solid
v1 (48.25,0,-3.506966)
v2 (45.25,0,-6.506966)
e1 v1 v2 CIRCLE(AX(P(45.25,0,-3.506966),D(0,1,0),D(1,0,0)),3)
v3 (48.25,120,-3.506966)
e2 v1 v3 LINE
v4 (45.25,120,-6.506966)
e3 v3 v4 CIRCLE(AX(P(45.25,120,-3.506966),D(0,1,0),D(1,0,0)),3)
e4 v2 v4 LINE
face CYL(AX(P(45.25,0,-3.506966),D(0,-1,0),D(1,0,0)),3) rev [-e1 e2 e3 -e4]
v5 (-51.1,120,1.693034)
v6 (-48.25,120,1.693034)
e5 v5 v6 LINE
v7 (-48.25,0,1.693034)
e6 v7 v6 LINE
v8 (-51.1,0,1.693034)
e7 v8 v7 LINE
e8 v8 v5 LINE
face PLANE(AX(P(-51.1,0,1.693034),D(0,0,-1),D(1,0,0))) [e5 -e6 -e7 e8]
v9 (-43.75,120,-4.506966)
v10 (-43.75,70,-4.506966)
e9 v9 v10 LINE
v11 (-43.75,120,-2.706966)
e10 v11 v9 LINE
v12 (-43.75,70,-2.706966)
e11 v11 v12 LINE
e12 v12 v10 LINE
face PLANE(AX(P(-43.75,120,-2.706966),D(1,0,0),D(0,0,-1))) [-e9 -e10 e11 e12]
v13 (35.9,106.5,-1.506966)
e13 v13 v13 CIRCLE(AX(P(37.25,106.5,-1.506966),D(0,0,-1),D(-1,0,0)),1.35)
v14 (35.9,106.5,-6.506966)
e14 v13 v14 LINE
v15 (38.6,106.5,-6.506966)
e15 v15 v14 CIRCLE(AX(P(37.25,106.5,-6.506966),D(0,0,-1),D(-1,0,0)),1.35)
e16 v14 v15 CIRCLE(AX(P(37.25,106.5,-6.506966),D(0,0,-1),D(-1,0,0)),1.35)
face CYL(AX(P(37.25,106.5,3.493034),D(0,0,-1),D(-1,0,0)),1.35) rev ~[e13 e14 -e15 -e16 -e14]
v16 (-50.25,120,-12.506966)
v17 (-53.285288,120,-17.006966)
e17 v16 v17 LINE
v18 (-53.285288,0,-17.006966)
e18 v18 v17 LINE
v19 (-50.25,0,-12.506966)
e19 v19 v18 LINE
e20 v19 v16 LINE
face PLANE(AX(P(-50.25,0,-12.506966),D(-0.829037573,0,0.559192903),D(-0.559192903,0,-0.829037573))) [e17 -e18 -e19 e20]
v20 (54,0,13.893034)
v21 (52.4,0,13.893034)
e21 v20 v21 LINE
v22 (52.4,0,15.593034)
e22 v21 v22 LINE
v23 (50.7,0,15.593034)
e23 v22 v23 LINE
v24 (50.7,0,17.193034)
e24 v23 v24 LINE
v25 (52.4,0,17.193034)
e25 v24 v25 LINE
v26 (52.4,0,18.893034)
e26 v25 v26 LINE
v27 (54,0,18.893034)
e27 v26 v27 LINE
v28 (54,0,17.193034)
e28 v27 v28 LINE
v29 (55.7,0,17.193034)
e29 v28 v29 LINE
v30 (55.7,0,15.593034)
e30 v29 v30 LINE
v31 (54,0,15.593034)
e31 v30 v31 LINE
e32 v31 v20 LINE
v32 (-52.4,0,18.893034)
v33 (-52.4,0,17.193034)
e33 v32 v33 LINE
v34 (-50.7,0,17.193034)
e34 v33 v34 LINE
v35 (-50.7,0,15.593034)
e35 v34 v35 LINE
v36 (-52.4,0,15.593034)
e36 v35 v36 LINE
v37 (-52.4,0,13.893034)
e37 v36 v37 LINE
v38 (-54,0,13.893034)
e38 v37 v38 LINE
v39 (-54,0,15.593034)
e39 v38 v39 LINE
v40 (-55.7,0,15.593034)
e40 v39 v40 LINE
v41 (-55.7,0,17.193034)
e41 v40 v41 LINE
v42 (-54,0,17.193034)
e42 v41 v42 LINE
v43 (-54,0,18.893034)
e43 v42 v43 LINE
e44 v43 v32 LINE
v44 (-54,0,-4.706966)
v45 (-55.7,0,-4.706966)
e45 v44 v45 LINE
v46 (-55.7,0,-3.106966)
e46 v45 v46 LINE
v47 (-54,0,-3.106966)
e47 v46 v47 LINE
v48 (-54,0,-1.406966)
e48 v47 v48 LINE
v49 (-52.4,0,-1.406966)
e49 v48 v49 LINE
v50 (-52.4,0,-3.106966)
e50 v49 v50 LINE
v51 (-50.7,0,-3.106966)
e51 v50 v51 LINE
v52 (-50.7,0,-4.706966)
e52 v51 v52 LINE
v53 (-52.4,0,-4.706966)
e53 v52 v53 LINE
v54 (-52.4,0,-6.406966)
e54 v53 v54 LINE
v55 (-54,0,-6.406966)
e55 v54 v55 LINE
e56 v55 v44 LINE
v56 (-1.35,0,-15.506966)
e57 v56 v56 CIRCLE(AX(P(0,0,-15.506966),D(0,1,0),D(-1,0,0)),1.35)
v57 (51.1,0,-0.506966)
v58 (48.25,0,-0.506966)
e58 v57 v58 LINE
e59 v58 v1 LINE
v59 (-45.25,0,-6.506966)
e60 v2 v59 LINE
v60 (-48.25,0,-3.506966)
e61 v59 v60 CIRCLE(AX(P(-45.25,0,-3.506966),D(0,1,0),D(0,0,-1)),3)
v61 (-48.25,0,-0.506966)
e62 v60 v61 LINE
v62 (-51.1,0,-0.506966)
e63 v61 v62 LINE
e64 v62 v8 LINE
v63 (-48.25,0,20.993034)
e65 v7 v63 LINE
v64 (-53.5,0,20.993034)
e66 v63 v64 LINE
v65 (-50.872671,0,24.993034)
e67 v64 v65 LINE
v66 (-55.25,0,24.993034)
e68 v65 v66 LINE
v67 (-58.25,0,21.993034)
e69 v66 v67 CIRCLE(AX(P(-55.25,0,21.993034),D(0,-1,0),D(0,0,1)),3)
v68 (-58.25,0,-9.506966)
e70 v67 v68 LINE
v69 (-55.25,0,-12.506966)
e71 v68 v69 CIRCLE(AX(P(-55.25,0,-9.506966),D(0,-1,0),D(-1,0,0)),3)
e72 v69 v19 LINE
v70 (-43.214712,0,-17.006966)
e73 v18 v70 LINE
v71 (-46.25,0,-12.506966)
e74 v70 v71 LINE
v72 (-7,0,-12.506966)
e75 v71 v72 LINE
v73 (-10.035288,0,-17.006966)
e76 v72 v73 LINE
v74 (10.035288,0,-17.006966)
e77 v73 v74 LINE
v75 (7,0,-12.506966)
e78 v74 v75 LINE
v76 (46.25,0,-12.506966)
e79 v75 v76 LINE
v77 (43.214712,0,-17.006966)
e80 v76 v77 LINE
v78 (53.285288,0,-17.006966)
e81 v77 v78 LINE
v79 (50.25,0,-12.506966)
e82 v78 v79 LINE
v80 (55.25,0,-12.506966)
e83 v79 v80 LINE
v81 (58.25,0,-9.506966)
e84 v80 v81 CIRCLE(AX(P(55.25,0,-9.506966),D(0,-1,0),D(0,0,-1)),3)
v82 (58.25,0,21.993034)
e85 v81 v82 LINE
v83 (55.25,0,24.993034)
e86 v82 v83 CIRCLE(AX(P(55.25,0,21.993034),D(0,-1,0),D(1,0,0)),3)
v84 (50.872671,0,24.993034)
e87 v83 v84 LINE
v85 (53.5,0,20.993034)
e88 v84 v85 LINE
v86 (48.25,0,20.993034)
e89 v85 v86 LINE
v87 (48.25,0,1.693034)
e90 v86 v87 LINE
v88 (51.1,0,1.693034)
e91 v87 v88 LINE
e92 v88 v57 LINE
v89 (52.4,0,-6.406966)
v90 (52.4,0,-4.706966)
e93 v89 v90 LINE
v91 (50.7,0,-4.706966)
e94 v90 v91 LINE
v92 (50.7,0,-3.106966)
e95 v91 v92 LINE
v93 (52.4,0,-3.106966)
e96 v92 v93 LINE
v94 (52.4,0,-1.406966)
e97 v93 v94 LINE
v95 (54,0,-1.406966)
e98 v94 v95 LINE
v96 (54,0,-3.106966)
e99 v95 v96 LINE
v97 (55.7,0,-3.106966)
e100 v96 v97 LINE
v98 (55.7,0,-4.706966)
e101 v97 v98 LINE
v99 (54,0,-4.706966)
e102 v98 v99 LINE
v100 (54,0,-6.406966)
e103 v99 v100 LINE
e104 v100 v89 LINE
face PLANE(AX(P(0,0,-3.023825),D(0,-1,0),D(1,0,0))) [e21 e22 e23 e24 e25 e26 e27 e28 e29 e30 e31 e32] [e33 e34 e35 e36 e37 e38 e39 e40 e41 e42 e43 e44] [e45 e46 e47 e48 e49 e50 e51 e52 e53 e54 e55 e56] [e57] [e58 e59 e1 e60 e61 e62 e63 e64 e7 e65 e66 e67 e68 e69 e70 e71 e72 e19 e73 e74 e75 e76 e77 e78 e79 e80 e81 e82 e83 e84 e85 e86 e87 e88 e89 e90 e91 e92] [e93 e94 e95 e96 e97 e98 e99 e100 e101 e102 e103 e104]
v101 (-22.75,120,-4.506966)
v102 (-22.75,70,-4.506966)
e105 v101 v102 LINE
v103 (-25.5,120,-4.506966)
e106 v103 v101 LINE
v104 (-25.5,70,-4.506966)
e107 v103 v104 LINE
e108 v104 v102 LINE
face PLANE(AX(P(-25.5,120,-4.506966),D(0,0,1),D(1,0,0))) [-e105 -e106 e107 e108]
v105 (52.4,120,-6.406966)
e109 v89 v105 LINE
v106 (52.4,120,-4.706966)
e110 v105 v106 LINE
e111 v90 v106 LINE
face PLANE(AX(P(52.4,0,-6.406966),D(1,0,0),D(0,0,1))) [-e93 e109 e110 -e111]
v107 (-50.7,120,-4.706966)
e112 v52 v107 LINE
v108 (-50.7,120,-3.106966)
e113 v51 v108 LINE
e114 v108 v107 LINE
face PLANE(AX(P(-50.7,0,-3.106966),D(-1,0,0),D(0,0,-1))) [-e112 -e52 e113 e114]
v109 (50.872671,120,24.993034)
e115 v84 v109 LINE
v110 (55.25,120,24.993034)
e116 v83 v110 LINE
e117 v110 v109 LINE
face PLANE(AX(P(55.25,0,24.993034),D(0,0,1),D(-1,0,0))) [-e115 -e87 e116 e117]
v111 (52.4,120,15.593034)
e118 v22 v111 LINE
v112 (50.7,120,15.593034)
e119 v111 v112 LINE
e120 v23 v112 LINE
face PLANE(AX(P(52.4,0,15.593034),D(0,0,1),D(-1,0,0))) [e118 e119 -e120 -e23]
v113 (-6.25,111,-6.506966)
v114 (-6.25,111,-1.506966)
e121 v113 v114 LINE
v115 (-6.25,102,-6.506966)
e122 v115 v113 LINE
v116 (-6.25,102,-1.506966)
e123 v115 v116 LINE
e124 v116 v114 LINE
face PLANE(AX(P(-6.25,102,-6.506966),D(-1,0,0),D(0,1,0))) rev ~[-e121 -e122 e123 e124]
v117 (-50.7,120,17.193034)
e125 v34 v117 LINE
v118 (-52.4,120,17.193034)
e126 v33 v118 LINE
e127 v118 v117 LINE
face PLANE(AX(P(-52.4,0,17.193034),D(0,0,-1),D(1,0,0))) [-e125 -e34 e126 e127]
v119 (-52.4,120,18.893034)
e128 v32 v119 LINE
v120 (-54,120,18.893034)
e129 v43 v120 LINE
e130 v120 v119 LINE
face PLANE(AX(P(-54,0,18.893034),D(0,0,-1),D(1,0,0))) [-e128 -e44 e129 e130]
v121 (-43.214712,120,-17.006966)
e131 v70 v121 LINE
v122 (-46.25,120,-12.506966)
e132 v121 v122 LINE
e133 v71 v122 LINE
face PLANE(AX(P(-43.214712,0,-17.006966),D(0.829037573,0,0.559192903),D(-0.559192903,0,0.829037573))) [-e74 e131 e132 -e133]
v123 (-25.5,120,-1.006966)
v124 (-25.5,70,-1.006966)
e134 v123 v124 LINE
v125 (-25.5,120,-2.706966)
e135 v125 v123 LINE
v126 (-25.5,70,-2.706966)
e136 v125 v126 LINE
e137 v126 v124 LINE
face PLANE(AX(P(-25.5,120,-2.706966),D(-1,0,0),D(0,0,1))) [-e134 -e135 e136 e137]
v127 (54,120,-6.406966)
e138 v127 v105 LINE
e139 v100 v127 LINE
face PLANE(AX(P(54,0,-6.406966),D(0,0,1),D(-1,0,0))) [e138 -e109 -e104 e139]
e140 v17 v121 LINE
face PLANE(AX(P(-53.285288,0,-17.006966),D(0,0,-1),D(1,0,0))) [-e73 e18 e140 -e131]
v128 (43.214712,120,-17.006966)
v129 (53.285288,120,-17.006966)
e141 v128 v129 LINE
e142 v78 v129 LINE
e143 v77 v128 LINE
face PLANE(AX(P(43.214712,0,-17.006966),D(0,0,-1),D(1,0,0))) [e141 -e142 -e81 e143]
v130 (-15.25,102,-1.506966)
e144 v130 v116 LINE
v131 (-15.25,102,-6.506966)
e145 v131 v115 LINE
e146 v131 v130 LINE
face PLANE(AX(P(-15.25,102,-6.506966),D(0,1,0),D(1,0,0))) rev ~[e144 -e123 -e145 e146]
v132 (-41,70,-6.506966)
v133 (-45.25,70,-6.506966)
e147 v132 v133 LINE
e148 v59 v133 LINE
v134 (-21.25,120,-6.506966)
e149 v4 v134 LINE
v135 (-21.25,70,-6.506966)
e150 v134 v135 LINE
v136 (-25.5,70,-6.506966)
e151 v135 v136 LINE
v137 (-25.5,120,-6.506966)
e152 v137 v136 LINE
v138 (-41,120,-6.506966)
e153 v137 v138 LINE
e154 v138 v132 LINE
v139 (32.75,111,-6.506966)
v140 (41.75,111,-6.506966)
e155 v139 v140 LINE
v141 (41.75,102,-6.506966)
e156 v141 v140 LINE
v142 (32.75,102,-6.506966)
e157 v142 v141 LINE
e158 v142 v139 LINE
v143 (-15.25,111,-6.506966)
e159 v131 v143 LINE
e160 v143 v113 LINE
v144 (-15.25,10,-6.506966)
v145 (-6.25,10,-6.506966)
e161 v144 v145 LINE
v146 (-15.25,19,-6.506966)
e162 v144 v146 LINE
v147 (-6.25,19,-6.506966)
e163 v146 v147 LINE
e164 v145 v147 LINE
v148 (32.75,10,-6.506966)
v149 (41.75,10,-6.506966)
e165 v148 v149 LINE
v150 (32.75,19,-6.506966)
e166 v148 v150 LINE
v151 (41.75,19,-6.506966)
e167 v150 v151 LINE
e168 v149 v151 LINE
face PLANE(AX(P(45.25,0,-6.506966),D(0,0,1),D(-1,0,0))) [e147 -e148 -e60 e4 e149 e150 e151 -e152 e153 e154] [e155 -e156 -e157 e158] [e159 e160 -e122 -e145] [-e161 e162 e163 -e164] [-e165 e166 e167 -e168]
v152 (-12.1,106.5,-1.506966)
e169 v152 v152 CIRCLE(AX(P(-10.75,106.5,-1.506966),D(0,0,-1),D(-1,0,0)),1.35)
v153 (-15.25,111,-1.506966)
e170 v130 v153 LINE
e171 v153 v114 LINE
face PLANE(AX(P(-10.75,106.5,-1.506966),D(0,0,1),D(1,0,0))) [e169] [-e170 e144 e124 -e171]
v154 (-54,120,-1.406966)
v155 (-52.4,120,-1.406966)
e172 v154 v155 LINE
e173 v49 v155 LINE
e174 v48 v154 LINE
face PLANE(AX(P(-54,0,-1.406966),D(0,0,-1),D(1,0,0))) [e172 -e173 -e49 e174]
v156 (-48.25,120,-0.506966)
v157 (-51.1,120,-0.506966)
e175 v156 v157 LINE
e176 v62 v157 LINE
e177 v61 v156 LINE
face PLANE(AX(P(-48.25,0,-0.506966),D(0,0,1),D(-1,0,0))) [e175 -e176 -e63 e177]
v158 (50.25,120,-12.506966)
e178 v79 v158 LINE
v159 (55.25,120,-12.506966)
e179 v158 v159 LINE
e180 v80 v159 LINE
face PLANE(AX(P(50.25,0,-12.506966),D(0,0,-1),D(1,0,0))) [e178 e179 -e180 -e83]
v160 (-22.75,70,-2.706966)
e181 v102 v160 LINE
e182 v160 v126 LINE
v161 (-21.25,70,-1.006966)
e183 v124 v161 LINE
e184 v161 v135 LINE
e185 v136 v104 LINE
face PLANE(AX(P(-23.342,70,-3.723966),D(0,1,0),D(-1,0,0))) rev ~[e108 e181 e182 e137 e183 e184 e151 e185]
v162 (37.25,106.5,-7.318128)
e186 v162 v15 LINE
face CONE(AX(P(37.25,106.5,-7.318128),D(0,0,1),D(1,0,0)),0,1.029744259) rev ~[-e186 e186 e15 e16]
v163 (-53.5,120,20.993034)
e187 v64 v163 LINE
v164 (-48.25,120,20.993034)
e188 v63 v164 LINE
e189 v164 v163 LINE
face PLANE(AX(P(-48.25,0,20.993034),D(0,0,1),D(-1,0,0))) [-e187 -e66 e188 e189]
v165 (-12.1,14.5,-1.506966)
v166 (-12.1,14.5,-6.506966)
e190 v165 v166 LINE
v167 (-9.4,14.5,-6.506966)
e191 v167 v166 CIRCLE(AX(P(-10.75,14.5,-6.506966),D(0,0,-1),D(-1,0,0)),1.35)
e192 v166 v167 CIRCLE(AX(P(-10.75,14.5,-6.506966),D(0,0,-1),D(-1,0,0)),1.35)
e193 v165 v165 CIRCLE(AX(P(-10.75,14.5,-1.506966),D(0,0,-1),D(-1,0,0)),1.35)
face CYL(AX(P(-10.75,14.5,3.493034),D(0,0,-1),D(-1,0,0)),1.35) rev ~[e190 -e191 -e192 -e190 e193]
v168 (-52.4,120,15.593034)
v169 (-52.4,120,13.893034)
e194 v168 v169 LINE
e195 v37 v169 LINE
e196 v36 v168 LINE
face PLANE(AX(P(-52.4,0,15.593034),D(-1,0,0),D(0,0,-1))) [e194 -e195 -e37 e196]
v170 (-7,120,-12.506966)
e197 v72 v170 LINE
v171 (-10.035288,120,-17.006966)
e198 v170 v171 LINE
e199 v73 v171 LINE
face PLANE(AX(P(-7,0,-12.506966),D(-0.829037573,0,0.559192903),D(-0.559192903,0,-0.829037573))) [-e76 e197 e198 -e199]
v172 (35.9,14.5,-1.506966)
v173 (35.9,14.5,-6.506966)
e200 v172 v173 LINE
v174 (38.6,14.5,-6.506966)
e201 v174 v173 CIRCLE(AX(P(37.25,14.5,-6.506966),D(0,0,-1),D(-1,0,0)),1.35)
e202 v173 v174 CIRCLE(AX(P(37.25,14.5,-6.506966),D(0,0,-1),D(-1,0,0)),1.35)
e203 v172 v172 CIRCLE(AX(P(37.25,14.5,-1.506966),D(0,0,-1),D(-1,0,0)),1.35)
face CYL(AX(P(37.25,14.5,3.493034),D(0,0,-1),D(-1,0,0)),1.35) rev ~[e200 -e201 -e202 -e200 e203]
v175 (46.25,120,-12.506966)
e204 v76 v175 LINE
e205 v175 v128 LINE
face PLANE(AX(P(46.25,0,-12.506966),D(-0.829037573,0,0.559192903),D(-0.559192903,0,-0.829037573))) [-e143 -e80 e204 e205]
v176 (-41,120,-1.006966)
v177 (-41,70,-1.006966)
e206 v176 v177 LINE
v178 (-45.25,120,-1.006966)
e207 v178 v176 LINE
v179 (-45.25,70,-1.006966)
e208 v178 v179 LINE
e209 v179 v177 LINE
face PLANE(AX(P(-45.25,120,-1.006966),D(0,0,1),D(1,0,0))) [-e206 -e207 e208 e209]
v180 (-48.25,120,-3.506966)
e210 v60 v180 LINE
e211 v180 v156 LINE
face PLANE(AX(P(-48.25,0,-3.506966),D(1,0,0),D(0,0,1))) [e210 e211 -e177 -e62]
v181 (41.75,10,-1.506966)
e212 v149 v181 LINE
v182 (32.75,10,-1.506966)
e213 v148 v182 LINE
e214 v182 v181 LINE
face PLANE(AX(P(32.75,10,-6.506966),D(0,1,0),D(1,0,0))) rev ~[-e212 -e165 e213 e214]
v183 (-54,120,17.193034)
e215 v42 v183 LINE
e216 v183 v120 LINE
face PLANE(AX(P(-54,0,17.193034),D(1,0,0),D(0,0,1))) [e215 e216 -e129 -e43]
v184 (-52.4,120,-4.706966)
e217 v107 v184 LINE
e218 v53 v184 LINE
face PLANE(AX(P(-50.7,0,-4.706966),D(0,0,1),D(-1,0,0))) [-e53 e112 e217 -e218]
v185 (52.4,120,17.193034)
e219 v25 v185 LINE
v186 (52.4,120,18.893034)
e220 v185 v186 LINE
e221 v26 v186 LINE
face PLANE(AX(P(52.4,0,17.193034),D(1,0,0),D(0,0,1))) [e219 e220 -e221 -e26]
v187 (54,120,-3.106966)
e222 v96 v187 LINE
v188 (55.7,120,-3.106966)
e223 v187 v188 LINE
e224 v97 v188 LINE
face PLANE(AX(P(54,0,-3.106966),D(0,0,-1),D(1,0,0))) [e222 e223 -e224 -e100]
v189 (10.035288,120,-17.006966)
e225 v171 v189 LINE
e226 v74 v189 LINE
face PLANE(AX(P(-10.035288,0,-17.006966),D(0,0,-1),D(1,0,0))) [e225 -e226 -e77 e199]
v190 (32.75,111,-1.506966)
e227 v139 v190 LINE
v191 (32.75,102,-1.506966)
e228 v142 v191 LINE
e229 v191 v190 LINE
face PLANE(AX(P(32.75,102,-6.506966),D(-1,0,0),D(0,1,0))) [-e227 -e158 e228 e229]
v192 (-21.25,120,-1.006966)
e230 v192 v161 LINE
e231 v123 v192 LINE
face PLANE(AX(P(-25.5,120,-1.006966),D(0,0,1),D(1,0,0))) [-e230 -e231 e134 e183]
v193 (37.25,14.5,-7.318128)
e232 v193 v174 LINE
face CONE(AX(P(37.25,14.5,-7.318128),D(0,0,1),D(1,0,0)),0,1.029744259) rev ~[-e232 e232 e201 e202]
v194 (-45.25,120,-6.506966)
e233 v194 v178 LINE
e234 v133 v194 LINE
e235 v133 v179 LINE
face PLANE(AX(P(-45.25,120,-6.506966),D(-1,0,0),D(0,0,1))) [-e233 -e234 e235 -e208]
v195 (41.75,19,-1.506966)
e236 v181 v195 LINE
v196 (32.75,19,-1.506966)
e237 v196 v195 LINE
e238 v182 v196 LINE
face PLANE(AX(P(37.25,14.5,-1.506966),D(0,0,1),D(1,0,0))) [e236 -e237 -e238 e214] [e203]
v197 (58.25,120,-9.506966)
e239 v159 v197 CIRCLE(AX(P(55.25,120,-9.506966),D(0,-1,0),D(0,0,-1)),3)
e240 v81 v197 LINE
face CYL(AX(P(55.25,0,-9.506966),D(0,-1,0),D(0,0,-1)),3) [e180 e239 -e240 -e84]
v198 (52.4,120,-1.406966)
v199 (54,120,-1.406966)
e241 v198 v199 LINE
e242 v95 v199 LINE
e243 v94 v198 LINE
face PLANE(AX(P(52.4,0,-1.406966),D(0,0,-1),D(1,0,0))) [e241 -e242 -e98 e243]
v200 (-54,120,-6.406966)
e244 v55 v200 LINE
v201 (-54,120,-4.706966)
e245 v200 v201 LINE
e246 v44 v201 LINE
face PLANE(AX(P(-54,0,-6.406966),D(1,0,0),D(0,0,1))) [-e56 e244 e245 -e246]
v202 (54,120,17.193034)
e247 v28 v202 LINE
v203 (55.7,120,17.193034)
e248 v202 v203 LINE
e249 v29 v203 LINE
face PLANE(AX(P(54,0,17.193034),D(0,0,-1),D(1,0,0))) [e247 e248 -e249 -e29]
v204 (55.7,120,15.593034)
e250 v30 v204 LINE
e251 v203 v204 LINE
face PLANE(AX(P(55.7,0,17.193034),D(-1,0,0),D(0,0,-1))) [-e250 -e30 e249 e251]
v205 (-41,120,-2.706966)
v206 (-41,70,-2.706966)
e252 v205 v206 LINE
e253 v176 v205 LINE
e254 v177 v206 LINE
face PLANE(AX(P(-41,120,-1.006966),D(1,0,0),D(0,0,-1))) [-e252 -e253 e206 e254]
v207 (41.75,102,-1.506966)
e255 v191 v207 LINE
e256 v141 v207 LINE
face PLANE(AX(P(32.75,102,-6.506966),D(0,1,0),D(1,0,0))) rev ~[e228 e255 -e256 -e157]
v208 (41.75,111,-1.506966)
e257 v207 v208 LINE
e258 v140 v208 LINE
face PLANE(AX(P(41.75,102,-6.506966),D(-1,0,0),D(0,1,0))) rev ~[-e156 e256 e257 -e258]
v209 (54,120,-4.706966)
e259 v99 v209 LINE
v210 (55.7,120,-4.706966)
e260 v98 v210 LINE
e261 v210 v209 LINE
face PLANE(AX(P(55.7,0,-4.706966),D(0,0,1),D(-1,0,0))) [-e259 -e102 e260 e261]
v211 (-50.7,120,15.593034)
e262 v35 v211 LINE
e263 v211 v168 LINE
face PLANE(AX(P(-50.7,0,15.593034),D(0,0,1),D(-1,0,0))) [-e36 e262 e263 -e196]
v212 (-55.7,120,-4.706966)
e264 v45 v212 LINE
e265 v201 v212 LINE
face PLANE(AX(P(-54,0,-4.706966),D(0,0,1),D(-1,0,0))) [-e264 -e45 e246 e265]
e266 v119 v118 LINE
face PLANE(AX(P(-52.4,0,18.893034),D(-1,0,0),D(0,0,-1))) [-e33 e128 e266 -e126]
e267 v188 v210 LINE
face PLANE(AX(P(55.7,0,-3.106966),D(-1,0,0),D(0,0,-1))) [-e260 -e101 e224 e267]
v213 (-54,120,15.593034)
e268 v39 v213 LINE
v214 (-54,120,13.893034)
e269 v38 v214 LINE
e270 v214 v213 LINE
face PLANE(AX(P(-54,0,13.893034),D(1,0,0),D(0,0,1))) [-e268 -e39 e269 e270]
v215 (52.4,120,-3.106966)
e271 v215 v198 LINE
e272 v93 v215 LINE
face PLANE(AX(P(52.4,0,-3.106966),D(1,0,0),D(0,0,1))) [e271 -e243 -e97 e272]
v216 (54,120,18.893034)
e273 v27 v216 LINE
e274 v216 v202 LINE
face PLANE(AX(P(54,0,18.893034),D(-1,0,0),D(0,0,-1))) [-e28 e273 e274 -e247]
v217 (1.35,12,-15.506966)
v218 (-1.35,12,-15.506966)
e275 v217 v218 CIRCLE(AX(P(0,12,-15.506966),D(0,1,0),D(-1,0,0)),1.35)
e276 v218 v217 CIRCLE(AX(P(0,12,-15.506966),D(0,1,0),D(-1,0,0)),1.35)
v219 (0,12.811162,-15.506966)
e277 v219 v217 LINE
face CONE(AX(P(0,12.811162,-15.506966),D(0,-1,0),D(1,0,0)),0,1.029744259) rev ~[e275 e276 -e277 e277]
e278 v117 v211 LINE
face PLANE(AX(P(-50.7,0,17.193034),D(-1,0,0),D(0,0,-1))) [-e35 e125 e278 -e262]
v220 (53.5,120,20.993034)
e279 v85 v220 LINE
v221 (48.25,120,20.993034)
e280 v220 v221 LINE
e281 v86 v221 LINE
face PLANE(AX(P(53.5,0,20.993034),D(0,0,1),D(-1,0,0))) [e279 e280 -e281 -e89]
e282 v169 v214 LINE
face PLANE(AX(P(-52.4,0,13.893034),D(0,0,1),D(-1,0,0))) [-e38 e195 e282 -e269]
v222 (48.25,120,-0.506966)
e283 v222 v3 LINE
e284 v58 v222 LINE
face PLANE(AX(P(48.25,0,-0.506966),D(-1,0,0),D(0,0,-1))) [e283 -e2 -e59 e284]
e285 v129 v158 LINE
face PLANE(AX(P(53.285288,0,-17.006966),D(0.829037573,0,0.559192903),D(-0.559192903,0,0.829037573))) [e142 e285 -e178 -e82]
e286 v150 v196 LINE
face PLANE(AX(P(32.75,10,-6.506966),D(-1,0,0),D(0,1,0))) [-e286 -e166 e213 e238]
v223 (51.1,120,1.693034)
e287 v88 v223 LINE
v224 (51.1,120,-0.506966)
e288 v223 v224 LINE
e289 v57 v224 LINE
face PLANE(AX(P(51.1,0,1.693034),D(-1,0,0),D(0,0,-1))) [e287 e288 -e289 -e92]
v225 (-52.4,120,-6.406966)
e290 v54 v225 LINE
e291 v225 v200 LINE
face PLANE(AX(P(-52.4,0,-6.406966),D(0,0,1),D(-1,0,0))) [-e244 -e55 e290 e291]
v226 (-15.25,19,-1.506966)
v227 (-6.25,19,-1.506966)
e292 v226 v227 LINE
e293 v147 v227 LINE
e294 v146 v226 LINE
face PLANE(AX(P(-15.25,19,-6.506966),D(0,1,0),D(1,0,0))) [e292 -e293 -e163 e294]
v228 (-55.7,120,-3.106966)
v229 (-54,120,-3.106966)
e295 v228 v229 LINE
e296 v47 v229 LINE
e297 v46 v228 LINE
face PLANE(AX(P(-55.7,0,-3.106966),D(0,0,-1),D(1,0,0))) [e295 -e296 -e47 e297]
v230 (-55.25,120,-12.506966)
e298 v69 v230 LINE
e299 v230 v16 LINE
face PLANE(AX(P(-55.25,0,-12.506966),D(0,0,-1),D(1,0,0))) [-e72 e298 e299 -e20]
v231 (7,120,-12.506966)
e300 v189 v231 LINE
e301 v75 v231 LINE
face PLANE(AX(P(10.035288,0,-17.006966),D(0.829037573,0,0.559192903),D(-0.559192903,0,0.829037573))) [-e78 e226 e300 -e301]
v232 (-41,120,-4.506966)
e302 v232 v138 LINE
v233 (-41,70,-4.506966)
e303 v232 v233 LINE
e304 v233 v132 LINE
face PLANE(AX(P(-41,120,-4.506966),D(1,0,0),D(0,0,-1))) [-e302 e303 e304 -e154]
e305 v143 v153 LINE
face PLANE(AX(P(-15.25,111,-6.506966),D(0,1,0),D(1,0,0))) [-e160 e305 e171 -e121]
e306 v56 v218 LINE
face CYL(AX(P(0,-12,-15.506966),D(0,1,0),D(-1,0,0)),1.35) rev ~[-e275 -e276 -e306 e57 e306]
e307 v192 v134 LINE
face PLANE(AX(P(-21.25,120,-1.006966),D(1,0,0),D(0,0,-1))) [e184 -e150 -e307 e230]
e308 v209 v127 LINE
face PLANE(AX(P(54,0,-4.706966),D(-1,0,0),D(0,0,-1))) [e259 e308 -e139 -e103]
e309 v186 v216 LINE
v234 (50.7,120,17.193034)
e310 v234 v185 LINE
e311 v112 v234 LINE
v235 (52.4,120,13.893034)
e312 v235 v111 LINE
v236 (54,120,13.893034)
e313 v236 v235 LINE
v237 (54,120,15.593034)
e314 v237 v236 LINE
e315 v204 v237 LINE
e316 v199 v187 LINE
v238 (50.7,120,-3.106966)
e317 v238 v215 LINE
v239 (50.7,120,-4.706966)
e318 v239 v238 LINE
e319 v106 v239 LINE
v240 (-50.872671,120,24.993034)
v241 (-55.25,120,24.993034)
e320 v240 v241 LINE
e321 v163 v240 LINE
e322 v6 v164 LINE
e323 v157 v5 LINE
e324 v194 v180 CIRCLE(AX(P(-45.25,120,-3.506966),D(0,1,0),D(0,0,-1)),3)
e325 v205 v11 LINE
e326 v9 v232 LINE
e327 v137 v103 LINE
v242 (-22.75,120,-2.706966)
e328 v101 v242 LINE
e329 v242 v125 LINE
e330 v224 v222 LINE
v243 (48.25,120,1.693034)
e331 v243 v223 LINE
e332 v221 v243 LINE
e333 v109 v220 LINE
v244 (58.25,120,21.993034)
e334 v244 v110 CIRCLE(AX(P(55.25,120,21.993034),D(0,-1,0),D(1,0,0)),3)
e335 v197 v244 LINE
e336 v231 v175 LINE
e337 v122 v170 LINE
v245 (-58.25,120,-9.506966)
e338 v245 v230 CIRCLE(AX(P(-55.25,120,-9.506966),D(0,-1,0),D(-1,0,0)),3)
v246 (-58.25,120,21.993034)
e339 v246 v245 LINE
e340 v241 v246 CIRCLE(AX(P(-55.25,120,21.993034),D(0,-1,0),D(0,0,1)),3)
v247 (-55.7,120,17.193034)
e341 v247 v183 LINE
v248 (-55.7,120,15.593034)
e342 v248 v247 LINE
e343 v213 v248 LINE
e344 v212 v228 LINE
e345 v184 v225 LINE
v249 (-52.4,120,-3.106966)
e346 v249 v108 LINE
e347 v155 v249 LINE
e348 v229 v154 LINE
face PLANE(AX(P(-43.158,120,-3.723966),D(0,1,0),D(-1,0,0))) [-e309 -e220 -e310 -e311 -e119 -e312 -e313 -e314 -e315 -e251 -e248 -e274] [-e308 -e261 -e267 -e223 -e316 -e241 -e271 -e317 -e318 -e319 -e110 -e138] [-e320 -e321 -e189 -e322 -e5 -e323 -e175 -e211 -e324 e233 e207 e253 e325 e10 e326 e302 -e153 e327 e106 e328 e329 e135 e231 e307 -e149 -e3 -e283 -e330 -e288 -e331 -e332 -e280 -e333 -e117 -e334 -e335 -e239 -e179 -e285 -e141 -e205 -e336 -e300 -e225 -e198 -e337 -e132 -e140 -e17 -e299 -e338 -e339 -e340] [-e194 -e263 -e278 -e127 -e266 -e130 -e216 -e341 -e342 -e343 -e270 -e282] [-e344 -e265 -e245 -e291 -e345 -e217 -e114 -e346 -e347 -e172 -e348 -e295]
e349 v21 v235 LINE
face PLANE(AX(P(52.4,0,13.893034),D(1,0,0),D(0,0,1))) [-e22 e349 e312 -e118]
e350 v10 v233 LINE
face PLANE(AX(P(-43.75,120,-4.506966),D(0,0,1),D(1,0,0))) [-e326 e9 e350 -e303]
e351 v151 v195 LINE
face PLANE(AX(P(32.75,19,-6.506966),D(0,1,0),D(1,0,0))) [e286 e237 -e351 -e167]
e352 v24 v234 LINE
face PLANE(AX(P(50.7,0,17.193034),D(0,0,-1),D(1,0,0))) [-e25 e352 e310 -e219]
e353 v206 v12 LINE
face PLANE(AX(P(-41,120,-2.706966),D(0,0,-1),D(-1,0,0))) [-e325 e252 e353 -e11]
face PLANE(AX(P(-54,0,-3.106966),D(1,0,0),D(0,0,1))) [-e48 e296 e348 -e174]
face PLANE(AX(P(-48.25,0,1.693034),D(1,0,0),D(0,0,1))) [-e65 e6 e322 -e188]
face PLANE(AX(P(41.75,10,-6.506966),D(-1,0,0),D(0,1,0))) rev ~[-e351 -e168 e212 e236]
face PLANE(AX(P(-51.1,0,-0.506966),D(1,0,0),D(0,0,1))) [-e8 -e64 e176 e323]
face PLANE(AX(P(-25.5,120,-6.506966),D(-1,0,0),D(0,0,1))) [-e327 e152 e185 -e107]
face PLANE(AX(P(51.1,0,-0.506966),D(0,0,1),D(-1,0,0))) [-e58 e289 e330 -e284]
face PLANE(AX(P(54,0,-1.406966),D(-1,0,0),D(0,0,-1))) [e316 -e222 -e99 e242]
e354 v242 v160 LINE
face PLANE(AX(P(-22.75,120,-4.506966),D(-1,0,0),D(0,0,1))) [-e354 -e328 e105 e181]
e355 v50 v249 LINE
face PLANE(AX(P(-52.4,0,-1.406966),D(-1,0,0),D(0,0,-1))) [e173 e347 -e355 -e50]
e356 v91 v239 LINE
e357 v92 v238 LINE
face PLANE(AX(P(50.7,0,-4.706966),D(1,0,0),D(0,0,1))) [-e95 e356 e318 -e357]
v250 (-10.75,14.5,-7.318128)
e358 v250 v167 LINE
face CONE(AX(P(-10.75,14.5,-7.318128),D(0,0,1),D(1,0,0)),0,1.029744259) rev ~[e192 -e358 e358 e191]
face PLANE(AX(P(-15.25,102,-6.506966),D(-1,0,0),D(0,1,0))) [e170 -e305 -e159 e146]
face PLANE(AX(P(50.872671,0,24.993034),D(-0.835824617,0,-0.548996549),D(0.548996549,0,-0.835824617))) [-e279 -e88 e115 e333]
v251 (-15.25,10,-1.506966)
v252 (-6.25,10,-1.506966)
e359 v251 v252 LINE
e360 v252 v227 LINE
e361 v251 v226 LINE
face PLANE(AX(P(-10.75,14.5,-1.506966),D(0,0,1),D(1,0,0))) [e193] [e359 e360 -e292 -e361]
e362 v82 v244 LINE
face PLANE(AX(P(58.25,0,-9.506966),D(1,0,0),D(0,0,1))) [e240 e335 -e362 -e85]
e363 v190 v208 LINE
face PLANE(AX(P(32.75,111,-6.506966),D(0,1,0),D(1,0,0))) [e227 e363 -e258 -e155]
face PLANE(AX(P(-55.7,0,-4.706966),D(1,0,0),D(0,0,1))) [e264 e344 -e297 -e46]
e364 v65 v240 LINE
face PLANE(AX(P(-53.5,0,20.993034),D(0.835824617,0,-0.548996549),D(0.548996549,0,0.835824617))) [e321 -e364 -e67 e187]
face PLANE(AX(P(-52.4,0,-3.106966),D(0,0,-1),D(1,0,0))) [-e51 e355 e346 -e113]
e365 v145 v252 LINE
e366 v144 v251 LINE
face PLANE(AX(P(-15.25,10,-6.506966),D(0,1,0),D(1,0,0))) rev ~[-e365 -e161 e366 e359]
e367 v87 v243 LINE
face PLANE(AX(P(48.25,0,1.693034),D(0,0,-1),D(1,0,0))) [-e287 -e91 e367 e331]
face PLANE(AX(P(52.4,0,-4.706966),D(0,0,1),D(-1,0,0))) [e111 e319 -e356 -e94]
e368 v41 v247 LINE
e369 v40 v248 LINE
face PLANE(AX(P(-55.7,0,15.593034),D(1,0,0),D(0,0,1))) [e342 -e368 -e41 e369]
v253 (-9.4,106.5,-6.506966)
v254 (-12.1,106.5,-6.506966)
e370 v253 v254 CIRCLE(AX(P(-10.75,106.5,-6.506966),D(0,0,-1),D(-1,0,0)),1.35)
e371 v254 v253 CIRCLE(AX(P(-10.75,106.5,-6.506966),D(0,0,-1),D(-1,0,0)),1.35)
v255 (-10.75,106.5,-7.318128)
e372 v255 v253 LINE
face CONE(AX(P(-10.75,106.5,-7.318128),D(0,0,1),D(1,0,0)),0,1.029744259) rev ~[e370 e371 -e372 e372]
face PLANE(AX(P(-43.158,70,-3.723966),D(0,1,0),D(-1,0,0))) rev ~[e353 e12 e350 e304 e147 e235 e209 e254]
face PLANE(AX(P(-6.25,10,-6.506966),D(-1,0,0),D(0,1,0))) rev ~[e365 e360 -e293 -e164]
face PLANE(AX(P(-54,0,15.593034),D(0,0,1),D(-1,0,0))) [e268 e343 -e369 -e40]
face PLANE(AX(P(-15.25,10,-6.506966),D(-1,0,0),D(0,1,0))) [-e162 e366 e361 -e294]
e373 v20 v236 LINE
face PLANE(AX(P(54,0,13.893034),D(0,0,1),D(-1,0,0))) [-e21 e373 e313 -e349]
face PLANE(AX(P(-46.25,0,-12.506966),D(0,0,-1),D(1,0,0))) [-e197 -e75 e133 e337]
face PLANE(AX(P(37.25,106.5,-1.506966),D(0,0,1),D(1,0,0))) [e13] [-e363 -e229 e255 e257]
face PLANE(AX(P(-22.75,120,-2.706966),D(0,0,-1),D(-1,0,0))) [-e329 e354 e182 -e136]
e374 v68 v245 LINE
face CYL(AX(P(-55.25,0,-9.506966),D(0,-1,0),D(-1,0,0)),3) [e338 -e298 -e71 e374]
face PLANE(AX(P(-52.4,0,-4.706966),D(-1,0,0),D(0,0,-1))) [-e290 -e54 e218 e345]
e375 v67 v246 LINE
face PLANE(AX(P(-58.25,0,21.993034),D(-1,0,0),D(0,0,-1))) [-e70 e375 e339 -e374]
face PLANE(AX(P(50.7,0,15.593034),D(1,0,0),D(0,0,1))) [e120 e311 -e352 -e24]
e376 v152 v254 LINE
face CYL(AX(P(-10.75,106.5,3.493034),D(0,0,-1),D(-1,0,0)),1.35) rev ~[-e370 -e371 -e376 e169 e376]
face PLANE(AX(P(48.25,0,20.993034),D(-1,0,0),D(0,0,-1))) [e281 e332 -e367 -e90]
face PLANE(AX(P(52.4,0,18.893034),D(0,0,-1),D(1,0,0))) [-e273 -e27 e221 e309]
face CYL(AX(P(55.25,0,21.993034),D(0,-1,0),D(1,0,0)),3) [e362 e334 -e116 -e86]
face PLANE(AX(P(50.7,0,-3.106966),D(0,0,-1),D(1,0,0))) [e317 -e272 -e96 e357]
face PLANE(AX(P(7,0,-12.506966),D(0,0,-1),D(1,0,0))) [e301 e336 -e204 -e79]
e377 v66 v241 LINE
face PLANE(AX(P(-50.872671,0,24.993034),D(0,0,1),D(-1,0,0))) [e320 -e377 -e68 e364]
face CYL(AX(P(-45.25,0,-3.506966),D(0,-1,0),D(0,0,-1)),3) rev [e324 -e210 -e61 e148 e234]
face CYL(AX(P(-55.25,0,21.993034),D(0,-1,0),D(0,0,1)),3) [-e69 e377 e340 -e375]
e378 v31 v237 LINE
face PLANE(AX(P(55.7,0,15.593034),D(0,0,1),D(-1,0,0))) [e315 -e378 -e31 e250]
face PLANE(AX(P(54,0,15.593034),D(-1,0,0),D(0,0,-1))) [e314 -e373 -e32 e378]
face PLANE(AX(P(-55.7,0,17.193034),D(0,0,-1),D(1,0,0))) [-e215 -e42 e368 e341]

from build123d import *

# Parameters (mm, degrees)
F1_DEPTH = 120
F3_D     = 2.7
F3_DEPTH = 12
F3_TIP   = 0.8111618357
F4_W     = 9
F4_H     = 9
F5_DEPTH = 5
F7_D     = 2.7
F7_DEPTH = 5
F7_TIP   = 0.8111618357
F9_DEPTH = 50


with BuildPart() as f1:
    # F0 (on Front) → F1 (new body)
    with BuildSketch(Plane.XZ):
        with BuildLine():
            Line((-10.0352883258, -17.0069661875), (0, -17.0069661875))
            Line((0, -17.0069661875), (10.0352883258, -17.0069661875))
            Line((10.0352883258, -17.0069661875), (7, -12.5069661875))
            Line((7, -12.5069661875), (46.25, -12.5069661875))
            Line((46.25, -12.5069661875), (43.2147116742, -17.0069661875))
            Line((43.2147116742, -17.0069661875), (53.2852883258, -17.0069661875))
            Line((53.2852883258, -17.0069661875), (50.25, -12.5069661875))
            Line((50.25, -12.5069661875), (55.25, -12.5069661875))
            ThreePointArc((55.25, -12.5069661875), (57.3713203436, -11.6282865311), (58.25, -9.5069661875))
            Line((58.25, -9.5069661875), (58.25, 21.9930338125))
            ThreePointArc((58.25, 21.9930338125), (57.3713203436, 24.114354156), (55.25, 24.9930338125))
            Line((55.25, 24.9930338125), (50.8726710718, 24.9930338125))
            Line((50.8726710718, 24.9930338125), (53.5, 20.9930338125))
            Line((53.5, 20.9930338125), (48.25, 20.9930338125))
            Line((48.25, 20.9930338125), (48.25, 1.6930338125))
            Line((48.25, 1.6930338125), (51.1, 1.6930338125))
            Line((51.1, 1.6930338125), (51.1, -0.5069661875))
            Line((51.1, -0.5069661875), (48.25, -0.5069661875))
            Line((48.25, -0.5069661875), (48.25, -3.5069661875))
            ThreePointArc((48.25, -3.5069661875), (47.3713203436, -5.6282865311), (45.25, -6.5069661875))
            Line((45.25, -6.5069661875), (0, -6.5069661875))
            Line((0, -6.5069661875), (-45.25, -6.5069661875))
            ThreePointArc((-45.25, -6.5069661875), (-47.3713203436, -5.6282865311), (-48.25, -3.5069661875))
            Line((-48.25, -3.5069661875), (-48.25, -0.5069661875))
            Line((-48.25, -0.5069661875), (-51.1, -0.5069661875))
            Line((-51.1, -0.5069661875), (-51.1, 1.6930338125))
            Line((-51.1, 1.6930338125), (-48.25, 1.6930338125))
            Line((-48.25, 1.6930338125), (-48.25, 20.9930338125))
            Line((-48.25, 20.9930338125), (-53.5, 20.9930338125))
            Line((-53.5, 20.9930338125), (-50.8726710718, 24.9930338125))
            Line((-50.8726710718, 24.9930338125), (-55.25, 24.9930338125))
            ThreePointArc((-55.25, 24.9930338125), (-57.3713203436, 24.114354156), (-58.25, 21.9930338125))
            Line((-58.25, 21.9930338125), (-58.25, -9.5069661875))
            ThreePointArc((-58.25, -9.5069661875), (-57.3713203436, -11.6282865311), (-55.25, -12.5069661875))
            Line((-55.25, -12.5069661875), (-50.25, -12.5069661875))
            Line((-50.25, -12.5069661875), (-53.2852883258, -17.0069661875))
            Line((-53.2852883258, -17.0069661875), (-43.2147116742, -17.0069661875))
            Line((-43.2147116742, -17.0069661875), (-46.25, -12.5069661875))
            Line((-46.25, -12.5069661875), (-7, -12.5069661875))
            Line((-7, -12.5069661875), (-10.0352883258, -17.0069661875))
        make_face()
        Polygon((-54, -3.1069661875), (-54, -1.4069661875), (-52.4, -1.4069661875), (-52.4, -3.1069661875), (-50.7, -3.1069661875), (-50.7, -4.7069661875), (-52.4, -4.7069661875), (-52.4, -6.4069661875), (-54, -6.4069661875), (-54, -4.7069661875), (-55.7, -4.7069661875), (-55.7, -3.1069661875), align=None, mode=Mode.SUBTRACT)
        Polygon((52.4, -1.4069661875), (54, -1.4069661875), (54, -3.1069661875), (55.7, -3.1069661875), (55.7, -4.7069661875), (54, -4.7069661875), (54, -6.4069661875), (52.4, -6.4069661875), (52.4, -4.7069661875), (50.7, -4.7069661875), (50.7, -3.1069661875), (52.4, -3.1069661875), align=None, mode=Mode.SUBTRACT)
        Polygon((-55.7, 15.5930338125), (-55.7, 17.1930338125), (-54, 17.1930338125), (-54, 18.8930338125), (-52.4, 18.8930338125), (-52.4, 17.1930338125), (-50.7, 17.1930338125), (-50.7, 15.5930338125), (-52.4, 15.5930338125), (-52.4, 13.8930338125), (-54, 13.8930338125), (-54, 15.5930338125), align=None, mode=Mode.SUBTRACT)
        Polygon((54, 18.8930338125), (54, 17.1930338125), (55.7, 17.1930338125), (55.7, 15.5930338125), (54, 15.5930338125), (54, 13.8930338125), (52.4, 13.8930338125), (52.4, 15.5930338125), (50.7, 15.5930338125), (50.7, 17.1930338125), (52.4, 17.1930338125), (52.4, 18.8930338125), align=None, mode=Mode.SUBTRACT)
    extrude(amount=-F1_DEPTH)

    # F3
    with Locations(Plane.XZ):
        with Locations((0, -15.5069661875)):
            Hole(F3_D / 2, depth=F3_DEPTH)
            with Locations((0, 0, -(F3_DEPTH + F3_TIP / 2))):  # 118° drill point
                Cone(0, F3_D / 2, F3_TIP, mode=Mode.SUBTRACT)

    # F4 (on face) → F5 (join)
    with BuildSketch(Plane.XY.offset(-6.5069661875)):
        with Locations((-10.75, 14.5)):
            Rectangle(F4_W, F4_H)
        with Locations((-10.75, 106.5)):
            Rectangle(F4_W, F4_H)
        with Locations((37.25, 14.5)):
            Rectangle(F4_W, F4_H)
        with Locations((37.25, 106.5)):
            Rectangle(F4_W, F4_H)
    extrude(amount=F5_DEPTH)

    # F7
    with Locations(Plane.XY.offset(-1.5069661875)):
        with Locations((-10.75, 106.5), (37.25, 106.5), (-10.75, 14.5), (37.25, 14.5)):
            Hole(F7_D / 2, depth=F7_DEPTH)
            with Locations((0, 0, -(F7_DEPTH + F7_TIP / 2))):  # 118° drill point
                Cone(0, F7_D / 2, F7_TIP, mode=Mode.SUBTRACT)

    # F8 (on face) → F9 (join)
    with BuildSketch(Plane(origin=(0, 120, 0), x_dir=(-1, 0, 0), z_dir=(0, 1, 0))):
        Polygon((21.25, -1.0069661875), (21.25, -6.5069661875), (25.5, -6.5069661875), (25.5, -4.5069661875), (22.75, -4.5069661875), (22.75, -2.7069661875), (25.5, -2.7069661875), (25.5, -1.0069661875), align=None)
        Polygon((41, -4.5069661875), (41, -6.5069661875), (45.25, -6.5069661875), (45.25, -1.0069661875), (41, -1.0069661875), (41, -2.7069661875), (43.75, -2.7069661875), (43.75, -4.5069661875), align=None)
    extrude(amount=-F9_DEPTH)


solid = f1.part
